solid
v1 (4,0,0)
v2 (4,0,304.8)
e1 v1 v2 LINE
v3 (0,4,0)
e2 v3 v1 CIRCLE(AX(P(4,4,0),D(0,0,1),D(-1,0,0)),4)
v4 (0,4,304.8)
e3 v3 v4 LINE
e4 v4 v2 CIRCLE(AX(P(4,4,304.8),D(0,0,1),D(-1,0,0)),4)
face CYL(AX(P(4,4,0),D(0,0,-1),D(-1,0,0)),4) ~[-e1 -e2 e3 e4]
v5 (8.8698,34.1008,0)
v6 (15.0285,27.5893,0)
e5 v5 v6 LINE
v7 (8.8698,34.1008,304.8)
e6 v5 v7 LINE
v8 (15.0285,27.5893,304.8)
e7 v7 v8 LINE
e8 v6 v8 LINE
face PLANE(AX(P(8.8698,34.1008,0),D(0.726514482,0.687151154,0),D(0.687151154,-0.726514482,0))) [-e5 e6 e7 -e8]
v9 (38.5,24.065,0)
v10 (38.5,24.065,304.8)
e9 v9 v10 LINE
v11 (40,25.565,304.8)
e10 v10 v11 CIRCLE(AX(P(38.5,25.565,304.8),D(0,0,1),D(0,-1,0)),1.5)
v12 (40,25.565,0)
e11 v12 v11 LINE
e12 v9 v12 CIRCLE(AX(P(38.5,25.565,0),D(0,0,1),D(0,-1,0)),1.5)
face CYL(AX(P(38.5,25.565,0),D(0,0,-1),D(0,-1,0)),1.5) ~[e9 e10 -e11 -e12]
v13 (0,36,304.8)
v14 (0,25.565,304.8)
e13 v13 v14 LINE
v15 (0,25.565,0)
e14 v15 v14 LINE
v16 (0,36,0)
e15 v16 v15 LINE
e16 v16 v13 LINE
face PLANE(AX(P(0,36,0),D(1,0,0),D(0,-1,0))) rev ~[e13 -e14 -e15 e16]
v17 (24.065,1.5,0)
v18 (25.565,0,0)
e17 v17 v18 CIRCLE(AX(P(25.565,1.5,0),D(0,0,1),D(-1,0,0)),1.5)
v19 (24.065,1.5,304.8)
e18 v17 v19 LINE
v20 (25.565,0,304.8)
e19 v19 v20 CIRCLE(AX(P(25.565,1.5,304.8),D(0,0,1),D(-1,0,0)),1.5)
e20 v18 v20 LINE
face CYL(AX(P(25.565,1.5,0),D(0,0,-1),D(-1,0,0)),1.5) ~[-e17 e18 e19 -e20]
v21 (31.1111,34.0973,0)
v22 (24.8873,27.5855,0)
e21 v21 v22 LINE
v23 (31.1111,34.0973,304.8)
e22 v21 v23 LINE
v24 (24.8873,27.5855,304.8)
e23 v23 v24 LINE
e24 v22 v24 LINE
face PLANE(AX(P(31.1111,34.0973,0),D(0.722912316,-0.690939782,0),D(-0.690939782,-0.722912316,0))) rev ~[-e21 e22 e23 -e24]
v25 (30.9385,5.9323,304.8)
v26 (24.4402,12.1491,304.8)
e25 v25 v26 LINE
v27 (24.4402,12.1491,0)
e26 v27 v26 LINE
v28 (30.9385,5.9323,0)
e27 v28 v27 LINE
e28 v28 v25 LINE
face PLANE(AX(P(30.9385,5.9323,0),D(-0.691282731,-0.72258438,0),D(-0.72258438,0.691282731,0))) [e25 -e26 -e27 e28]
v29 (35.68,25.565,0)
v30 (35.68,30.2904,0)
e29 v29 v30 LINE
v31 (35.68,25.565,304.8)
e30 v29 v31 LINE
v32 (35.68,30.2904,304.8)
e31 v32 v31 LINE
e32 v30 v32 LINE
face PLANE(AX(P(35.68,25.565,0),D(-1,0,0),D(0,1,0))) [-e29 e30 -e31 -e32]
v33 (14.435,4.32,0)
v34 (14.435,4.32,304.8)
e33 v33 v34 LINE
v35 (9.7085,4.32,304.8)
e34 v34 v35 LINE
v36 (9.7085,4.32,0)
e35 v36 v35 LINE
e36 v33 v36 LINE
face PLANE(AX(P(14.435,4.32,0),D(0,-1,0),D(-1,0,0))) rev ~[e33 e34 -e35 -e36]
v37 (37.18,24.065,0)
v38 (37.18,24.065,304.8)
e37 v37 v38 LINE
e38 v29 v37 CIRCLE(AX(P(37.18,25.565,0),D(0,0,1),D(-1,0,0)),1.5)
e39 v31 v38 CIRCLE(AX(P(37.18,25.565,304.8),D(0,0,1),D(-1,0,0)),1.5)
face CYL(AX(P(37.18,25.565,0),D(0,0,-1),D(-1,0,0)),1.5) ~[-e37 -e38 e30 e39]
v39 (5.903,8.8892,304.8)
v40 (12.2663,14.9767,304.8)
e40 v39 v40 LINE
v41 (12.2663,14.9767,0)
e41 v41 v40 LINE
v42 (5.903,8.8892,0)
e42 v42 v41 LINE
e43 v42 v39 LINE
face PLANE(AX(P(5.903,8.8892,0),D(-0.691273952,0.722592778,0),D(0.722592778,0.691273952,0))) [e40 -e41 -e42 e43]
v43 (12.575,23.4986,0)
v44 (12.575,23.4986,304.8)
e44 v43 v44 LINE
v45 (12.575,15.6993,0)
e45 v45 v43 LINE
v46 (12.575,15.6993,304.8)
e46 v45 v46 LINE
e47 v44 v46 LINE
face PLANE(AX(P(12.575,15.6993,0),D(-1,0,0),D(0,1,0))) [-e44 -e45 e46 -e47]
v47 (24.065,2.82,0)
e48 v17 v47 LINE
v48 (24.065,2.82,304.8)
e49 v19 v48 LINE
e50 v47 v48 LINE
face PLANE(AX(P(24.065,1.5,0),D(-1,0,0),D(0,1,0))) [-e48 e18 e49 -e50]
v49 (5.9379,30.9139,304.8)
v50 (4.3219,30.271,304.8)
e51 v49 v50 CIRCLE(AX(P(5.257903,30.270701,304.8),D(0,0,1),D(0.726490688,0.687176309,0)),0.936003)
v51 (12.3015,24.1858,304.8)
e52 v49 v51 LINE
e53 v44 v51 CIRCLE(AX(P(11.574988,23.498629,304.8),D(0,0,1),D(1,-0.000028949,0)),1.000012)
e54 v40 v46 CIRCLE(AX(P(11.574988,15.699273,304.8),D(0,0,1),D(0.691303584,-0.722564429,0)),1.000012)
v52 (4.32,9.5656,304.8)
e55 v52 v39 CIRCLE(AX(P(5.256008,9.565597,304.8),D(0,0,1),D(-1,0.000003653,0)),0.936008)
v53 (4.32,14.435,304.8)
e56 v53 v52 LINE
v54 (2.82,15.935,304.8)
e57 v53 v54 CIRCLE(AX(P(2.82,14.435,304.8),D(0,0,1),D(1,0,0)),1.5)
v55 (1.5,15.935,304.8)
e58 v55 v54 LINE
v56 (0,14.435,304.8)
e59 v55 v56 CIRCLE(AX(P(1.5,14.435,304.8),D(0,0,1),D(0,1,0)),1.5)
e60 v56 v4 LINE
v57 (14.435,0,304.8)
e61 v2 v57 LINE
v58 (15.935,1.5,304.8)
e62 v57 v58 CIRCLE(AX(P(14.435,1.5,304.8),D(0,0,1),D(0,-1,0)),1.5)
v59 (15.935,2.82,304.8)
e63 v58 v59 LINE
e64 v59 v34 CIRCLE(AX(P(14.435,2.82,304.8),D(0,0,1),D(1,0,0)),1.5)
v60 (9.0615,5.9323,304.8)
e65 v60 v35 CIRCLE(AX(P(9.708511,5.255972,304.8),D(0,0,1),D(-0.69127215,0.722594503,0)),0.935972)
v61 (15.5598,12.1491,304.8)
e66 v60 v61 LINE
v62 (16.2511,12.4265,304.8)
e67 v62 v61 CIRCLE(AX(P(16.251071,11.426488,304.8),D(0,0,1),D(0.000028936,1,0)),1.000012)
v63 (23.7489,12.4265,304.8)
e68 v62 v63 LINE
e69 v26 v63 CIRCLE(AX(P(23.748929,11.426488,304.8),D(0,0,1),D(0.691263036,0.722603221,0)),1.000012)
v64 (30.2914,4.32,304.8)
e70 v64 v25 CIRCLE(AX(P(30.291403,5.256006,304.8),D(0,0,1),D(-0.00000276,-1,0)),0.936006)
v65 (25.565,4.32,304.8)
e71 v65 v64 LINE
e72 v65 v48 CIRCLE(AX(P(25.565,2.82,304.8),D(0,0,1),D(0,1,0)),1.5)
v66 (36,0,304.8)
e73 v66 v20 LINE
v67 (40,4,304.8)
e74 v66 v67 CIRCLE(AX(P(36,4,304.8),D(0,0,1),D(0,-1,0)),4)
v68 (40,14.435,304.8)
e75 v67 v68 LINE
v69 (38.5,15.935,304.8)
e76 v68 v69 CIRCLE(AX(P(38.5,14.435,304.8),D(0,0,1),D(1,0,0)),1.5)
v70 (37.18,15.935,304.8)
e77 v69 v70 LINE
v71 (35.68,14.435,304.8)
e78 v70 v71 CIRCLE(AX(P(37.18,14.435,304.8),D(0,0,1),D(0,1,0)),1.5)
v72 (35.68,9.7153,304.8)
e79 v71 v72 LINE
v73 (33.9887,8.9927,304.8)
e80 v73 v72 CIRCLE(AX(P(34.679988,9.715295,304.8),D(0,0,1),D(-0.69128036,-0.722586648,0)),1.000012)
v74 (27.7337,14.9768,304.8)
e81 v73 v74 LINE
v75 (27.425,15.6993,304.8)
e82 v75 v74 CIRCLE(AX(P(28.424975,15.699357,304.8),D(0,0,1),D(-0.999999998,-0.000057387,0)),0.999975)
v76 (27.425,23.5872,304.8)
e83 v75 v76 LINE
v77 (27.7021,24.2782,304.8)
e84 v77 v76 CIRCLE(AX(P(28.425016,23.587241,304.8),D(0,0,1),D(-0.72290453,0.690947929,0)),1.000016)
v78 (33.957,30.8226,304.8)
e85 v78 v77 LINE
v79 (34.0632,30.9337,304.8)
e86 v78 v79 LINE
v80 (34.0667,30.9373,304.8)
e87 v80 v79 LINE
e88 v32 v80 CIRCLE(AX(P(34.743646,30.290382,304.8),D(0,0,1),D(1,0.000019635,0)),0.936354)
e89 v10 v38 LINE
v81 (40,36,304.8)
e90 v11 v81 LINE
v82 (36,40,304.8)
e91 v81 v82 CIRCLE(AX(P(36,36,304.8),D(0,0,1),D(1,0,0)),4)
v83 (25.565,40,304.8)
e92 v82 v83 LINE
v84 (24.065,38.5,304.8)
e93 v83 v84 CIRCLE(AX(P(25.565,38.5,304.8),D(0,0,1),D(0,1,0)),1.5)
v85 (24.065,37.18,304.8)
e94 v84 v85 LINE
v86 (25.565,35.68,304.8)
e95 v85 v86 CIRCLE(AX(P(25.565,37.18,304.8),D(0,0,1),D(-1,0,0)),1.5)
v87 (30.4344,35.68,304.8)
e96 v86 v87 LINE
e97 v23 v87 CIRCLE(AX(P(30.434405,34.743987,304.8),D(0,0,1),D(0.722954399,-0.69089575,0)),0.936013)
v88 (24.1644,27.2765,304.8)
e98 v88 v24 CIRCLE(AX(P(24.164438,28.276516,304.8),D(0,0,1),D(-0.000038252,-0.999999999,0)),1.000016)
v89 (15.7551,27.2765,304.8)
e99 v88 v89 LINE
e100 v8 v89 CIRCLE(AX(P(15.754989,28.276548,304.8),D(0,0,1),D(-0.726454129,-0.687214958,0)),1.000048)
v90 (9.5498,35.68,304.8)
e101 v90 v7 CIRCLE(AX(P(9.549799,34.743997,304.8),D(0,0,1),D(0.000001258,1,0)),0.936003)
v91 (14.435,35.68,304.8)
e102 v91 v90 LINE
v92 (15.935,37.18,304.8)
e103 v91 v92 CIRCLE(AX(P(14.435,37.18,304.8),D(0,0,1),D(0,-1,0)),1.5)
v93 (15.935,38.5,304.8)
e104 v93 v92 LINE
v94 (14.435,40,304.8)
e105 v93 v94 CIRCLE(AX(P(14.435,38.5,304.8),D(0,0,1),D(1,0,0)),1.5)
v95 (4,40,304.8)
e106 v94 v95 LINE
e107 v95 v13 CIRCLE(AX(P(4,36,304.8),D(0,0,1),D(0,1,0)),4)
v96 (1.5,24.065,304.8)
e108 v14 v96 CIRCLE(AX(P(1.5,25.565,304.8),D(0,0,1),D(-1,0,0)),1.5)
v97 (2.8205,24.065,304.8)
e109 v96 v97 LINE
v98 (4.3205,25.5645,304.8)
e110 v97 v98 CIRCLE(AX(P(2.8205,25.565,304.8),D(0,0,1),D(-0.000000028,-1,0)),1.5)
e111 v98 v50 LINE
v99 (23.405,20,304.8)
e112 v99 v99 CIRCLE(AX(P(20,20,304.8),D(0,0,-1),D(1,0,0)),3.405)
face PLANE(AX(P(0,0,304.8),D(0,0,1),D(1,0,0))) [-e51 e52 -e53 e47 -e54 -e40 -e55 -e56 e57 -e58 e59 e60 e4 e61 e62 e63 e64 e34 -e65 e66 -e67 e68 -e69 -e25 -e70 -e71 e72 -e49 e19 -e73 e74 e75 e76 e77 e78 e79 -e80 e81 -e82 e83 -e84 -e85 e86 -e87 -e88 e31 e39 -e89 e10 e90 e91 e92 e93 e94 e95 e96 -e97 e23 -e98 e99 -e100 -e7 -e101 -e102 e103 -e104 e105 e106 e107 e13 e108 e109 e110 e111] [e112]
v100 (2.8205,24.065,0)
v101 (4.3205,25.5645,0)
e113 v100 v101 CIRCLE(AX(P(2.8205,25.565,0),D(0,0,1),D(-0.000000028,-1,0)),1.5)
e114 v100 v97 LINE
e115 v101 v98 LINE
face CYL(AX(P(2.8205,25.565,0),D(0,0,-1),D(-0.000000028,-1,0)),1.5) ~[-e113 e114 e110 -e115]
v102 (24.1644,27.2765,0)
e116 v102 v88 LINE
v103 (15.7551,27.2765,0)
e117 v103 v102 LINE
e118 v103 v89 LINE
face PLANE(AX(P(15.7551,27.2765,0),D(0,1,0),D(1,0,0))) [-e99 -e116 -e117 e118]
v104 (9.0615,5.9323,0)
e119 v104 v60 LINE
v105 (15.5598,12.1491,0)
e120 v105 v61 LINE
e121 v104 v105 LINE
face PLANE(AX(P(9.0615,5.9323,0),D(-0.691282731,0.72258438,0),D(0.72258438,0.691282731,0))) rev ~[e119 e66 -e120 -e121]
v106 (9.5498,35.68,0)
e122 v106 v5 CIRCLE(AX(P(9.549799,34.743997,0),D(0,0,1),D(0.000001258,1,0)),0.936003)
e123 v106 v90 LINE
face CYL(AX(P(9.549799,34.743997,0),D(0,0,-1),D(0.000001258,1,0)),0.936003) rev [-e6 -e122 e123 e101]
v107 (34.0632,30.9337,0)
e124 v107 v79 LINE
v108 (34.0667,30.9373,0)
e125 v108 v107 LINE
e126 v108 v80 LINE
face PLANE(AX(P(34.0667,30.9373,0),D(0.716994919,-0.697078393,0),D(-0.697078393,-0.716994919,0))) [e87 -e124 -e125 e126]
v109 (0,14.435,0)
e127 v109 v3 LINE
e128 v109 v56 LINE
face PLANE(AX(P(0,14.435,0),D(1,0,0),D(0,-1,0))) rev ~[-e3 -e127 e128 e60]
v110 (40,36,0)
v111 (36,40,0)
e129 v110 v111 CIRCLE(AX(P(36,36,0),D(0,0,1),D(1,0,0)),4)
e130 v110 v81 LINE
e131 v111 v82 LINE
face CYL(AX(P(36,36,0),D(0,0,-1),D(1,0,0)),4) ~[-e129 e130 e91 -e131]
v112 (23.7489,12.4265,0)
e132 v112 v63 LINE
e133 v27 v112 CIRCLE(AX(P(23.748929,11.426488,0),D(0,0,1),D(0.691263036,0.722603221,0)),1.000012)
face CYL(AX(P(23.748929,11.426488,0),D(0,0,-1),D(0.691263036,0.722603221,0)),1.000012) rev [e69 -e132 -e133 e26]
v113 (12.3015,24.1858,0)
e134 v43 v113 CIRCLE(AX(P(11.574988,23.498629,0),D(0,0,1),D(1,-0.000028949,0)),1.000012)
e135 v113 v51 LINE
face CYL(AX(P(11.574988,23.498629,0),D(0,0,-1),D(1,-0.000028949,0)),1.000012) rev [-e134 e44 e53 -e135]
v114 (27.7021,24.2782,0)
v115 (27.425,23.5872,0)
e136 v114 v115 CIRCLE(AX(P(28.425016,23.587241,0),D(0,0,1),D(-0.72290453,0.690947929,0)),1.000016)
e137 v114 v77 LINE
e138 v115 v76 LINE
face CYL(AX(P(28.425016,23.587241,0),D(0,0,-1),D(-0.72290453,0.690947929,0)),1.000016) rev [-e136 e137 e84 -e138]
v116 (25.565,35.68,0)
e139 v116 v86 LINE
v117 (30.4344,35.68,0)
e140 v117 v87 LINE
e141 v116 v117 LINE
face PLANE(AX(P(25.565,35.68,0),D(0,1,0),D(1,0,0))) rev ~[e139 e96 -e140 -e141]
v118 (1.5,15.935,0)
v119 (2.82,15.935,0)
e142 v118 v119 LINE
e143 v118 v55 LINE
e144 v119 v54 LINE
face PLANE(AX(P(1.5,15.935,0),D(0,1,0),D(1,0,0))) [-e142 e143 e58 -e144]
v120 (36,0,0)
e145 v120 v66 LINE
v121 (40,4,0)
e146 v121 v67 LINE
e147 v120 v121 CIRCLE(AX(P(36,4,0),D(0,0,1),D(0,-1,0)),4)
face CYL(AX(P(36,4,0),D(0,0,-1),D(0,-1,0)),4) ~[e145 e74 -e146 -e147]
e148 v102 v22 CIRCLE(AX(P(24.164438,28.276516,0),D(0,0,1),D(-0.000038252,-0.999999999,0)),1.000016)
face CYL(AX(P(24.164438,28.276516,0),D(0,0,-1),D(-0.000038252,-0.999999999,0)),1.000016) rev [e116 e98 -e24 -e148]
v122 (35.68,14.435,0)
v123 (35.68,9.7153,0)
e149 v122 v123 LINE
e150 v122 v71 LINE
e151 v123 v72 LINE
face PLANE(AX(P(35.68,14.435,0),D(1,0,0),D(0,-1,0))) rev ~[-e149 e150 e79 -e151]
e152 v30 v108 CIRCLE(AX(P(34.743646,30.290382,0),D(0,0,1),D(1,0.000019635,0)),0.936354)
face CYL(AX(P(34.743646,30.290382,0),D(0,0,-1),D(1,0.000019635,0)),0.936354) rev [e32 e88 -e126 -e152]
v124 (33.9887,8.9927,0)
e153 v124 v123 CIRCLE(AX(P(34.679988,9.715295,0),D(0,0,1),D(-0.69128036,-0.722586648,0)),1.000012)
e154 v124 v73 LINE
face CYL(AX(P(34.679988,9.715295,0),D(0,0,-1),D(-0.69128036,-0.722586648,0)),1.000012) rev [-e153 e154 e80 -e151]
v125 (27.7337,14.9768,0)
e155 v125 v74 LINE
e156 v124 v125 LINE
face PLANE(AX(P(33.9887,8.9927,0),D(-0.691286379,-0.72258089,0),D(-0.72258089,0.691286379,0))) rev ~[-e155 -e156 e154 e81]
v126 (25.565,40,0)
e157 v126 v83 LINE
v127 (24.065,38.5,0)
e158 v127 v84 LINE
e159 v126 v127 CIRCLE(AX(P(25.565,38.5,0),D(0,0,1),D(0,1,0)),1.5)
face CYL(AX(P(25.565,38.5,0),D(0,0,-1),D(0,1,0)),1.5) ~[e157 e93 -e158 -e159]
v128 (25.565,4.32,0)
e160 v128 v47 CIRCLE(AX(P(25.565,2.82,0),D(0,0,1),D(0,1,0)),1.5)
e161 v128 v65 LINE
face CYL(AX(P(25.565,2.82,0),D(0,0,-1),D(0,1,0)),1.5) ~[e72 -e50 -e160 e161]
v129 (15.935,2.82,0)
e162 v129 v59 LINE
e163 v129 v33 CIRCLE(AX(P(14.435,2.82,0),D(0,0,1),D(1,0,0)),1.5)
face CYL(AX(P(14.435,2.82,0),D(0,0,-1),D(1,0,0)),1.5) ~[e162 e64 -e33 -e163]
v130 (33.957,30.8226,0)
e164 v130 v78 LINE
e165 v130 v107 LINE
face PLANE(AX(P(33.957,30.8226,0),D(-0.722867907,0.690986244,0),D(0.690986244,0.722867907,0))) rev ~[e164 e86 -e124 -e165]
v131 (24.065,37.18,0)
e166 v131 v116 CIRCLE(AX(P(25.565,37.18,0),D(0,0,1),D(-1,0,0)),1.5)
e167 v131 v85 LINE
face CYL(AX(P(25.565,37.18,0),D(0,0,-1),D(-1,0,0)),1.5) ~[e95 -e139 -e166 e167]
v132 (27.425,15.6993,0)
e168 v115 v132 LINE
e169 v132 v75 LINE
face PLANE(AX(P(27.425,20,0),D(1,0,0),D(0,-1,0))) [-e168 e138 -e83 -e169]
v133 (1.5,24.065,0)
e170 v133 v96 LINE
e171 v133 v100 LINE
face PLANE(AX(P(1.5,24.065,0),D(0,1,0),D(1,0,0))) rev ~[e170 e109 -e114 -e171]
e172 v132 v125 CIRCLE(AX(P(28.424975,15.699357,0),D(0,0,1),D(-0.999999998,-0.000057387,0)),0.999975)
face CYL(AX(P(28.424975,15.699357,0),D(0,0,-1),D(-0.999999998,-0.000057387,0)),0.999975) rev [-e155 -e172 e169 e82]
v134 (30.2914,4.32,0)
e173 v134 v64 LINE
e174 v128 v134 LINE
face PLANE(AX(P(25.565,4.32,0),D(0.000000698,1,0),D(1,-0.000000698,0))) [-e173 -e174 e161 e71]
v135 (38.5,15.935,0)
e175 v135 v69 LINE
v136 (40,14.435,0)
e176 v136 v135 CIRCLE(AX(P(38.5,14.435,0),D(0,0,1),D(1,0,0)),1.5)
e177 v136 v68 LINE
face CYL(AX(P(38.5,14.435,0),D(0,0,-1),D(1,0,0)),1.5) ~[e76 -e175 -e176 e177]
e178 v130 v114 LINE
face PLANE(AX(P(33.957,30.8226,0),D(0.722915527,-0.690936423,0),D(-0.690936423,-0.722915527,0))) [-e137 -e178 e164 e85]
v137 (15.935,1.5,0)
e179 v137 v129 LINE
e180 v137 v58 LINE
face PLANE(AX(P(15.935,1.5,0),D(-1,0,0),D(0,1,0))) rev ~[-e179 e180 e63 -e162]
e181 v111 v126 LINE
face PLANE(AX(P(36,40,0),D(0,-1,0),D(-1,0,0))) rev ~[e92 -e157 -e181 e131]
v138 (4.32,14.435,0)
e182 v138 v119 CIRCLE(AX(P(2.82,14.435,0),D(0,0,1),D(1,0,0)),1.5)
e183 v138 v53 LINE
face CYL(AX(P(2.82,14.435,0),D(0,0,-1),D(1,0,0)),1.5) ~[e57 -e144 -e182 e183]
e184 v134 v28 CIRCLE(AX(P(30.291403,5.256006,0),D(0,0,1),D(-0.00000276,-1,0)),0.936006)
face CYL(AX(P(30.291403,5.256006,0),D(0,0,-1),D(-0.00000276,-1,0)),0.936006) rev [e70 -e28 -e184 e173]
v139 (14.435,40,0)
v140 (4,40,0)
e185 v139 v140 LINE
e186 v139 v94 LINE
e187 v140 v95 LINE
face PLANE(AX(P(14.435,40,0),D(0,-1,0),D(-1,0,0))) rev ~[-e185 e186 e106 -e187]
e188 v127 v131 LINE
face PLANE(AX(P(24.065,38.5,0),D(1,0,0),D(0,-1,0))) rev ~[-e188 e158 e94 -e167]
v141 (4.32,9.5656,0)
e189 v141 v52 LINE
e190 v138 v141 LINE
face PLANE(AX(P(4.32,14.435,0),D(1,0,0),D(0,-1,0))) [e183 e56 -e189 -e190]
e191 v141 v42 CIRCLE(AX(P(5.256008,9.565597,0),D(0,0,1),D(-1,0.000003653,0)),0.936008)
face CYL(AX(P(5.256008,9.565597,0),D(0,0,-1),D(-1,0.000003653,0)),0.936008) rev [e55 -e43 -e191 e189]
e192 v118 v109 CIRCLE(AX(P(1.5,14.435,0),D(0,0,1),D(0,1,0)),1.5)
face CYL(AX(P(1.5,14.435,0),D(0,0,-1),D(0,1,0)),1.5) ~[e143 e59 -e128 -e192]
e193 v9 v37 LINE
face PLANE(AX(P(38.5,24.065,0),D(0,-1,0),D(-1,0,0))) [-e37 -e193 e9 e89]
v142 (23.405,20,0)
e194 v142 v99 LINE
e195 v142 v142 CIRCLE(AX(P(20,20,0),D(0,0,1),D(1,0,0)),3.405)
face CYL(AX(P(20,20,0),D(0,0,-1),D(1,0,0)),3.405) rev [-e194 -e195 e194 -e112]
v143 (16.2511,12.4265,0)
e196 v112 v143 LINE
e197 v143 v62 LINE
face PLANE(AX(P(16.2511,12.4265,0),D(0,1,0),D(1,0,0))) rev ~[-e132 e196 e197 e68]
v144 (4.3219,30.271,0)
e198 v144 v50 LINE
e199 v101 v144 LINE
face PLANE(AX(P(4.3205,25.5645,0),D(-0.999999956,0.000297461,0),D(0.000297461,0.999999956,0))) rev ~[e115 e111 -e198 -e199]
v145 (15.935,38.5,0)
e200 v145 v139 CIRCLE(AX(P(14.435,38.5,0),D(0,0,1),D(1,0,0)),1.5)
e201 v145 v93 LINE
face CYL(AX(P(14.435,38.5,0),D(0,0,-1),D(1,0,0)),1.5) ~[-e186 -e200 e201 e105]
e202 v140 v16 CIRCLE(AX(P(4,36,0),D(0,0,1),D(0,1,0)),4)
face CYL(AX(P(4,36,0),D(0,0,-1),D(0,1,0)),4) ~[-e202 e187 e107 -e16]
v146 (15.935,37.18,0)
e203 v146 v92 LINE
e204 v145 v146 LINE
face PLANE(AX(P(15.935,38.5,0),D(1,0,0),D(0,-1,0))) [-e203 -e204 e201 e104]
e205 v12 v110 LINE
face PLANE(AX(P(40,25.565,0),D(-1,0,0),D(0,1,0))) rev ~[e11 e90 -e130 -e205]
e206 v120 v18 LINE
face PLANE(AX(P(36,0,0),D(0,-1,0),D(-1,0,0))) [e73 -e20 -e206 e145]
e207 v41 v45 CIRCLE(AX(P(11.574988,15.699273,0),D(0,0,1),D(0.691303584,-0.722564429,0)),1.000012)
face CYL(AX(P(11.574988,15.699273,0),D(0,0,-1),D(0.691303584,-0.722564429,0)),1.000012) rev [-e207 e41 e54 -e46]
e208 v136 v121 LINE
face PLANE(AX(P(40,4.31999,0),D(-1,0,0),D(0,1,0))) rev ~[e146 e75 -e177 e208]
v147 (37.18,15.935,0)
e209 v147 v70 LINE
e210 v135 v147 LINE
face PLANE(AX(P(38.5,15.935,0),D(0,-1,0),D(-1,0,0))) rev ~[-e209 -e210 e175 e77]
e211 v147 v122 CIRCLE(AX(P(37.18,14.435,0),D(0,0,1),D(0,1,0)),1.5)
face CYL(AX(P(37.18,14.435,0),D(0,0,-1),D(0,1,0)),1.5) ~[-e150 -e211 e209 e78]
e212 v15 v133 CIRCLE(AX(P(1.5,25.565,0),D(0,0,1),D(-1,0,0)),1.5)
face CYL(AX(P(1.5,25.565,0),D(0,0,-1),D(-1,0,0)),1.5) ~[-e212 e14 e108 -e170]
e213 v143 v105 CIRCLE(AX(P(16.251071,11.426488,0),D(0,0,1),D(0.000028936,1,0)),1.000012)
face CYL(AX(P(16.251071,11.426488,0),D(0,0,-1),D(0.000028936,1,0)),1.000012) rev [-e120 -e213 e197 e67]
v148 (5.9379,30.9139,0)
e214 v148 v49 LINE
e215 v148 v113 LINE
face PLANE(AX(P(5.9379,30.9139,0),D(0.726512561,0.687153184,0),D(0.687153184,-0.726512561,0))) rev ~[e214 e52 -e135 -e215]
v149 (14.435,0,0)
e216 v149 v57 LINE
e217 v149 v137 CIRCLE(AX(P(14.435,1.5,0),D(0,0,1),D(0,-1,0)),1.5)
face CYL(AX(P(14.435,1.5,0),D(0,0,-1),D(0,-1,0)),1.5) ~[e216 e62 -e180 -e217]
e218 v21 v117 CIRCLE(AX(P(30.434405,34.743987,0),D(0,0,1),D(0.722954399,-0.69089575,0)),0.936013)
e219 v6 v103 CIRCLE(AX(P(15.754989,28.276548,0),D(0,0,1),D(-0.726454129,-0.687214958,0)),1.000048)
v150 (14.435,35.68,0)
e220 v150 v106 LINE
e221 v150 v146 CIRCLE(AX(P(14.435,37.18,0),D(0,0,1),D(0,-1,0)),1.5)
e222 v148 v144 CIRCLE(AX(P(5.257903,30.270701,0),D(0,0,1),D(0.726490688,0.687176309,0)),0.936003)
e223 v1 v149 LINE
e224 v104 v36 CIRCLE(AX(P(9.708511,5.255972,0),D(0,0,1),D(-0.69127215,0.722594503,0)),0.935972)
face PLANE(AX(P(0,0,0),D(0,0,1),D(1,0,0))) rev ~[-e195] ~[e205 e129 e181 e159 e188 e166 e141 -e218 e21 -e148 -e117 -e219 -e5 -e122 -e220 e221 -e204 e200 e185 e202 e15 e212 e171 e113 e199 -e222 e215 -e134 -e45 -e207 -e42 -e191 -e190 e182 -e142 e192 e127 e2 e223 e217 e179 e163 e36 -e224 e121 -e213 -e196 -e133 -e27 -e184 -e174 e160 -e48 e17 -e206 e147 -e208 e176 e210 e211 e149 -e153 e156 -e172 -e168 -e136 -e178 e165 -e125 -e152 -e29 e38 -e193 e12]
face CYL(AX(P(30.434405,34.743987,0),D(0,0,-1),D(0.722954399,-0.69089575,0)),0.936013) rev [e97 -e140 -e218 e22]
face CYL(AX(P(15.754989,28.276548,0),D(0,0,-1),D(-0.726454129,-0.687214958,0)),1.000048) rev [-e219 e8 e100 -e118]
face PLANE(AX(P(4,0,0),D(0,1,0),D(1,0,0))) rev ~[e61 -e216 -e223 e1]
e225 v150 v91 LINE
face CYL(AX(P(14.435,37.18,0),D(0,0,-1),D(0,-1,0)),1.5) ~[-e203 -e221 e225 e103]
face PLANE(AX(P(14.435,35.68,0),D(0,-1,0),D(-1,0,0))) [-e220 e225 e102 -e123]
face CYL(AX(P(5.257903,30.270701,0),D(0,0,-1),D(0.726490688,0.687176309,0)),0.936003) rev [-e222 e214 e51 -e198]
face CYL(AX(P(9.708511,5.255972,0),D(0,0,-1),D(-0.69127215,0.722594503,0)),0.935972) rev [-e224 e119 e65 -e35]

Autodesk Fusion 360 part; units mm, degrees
sketch "Sketch1" plane through (0, 0, 0) normal (0, 0, 1) x (1, 0, 0)
  line L0 (4, 0) -> (14.435, 0)
  line L1 (40, 0) -> (40, 36)
  line L2 (36, 40) -> (0, 40)
  line L3 (0, 40) -> (0, 4)
  line L4 (0, 0) -> (0, 20)
  line L5 (0, 40) -> (20, 40)
  circle A0 centre (20, 20) radius 3.405
  line L6 (40, 40) -> (24.065, 40)
  line L7 (40, 40) -> (25.565, 40)
  line L8 (40, 40) -> (40, 25.565)
  line L9 (38.5, 24.065) -> (37.18, 24.065)
  line L10 (24.065, 38.5) -> (24.065, 37.18)
  line L11 (25.565, 35.68) -> (30.4344, 35.68)
  line L12 (35.68, 25.565) -> (35.68, 30.2904)
  line L13 (20, 20) -> (20, 40)
  line L14 (20, 20) -> (0, 20)
  line L15 (20, 20) -> (20, 0)
  line L16 (20, 20) -> (40, 20)
  line L17 (14.435, 35.68) -> (9.5498, 35.68)
  line L18 (15.935, 38.5) -> (15.935, 37.18)
  line L19 (4, 40) -> (14.435, 40)
  line L20 (0, 36) -> (0, 25.565)
  line L21 (1.5, 24.065) -> (2.8205, 24.065)
  line L22 (4.3205, 25.5645) -> (4.3219, 30.271)
  line L23 (25.565, 4.32) -> (1890698.4728, 3)
  line L24 (24.065, 1.5) -> (24.065, 2.82)
  line L25 (36, 0) -> (25.565, 0)
  line L26 (40, 4) -> (40, 14.435)
  line L27 (38.5, 15.935) -> (37.18, 15.935)
  line L28 (35.68, 14.435) -> (35.68, 9.7153)
  line L29 (14.435, 4.32) -> (9.7085, 4.32)
  line L30 (15.935, 1.5) -> (15.935, 2.82)
  line L31 (0, 0) -> (15.935, 0)
  line L32 (1.5, 15.935) -> (2.82, 15.935)
  line L33 (4.32, 14.435) -> (4.32, 9.5656)
  line L34 (0, 14.435) -> (0, 0)
  line L35 (0, 0) -> (15.935, 0)
  line L36 (5.9379, 30.9139) -> (12.3015, 24.1858)
  line L37 (8.8698, 34.1008) -> (15.0285, 27.5893)
  line L38 (30.9385, 5.9323) -> (24.4402, 12.1491)
  line L39 (33.9887, 8.9927) -> (27.7337, 14.9768)
  line L40 (5.903, 8.8892) -> (12.2663, 14.9767)
  line L41 (9.0615, 5.9323) -> (15.5598, 12.1491)
  line L42 (31.1111, 34.0973) -> (24.8873, 27.5855)
  line L43 (33.957, 30.8226) -> (27.7021, 24.2782)
  line L44 (27.425, 23.5872) -> (27.425, 15.6993)
  line L45 (16.2511, 12.4265) -> (23.7489, 12.4265)
  line L46 (12.575, 15.6993) -> (12.575, 23.4986)
  line L47 (15.7551, 27.2765) -> (24.1644, 27.2765)
  line L48 (35.68, 30.1316) -> (35.68, 30.2853)
  line L49 (34.0667, 30.9373) -> (34.0632, 30.9337)
  arc A1 (33.9887, 8.9927) -> (35.68, 9.7153) centre (34.68, 9.7153) ccw
  line L50 (35.68, 7.3747) -> (35.68, 9.7153)
  arc A2 (27.7021, 24.2782) -> (27.425, 23.5872) centre (28.425, 23.5872) ccw
  arc A3 (35.68, 30.2904) -> (34.0667, 30.9373) centre (34.7436, 30.2904) ccw
  arc A4 (5.9379, 30.9139) -> (4.3219, 30.271) centre (5.2579, 30.2707) ccw
  arc A5 (12.575, 23.4986) -> (12.3015, 24.1858) centre (11.575, 23.4986) ccw
  arc A6 (12.2663, 14.9767) -> (12.575, 15.6993) centre (11.575, 15.6993) ccw
  arc A7 (4.32, 9.5656) -> (5.903, 8.8892) centre (5.256, 9.5656) ccw
  arc A8 (9.0615, 5.9323) -> (9.7085, 4.32) centre (9.7085, 5.256) ccw
  arc A9 (30.2914, 4.32) -> (30.9385, 5.9323) centre (30.2914, 5.256) ccw
  arc A10 (24.4402, 12.1491) -> (23.7489, 12.4265) centre (23.7489, 11.4265) ccw
  arc A11 (16.2511, 12.4265) -> (15.5598, 12.1491) centre (16.2511, 11.4265) ccw
  arc A12 (27.425, 15.6993) -> (27.7337, 14.9768) centre (28.425, 15.6993) ccw
  arc A13 (24.1644, 27.2765) -> (24.8873, 27.5855) centre (24.1644, 28.2765) ccw
  arc A14 (15.0285, 27.5893) -> (15.7551, 27.2765) centre (15.7551, 28.2765) ccw
  arc A15 (37.18, 15.935) -> (35.68, 14.435) centre (37.18, 14.435) ccw
  arc A16 (40, 14.435) -> (38.5, 15.935) centre (38.5, 14.435) ccw
  arc A17 (35.68, 25.565) -> (37.18, 24.065) centre (37.18, 25.565) ccw
  arc A18 (38.5, 24.065) -> (40, 25.565) centre (38.5, 25.565) ccw
  arc A19 (25.565, 40) -> (24.065, 38.5) centre (25.565, 38.5) ccw
  arc A20 (24.065, 37.18) -> (25.565, 35.68) centre (25.565, 37.18) ccw
  arc A21 (14.435, 35.68) -> (15.935, 37.18) centre (14.435, 37.18) ccw
  arc A22 (15.935, 38.5) -> (14.435, 40) centre (14.435, 38.5) ccw
  arc A23 (2.8205, 24.065) -> (4.3205, 25.5645) centre (2.8205, 25.565) ccw
  arc A24 (0, 25.565) -> (1.5, 24.065) centre (1.5, 25.565) ccw
  arc A25 (4.32, 14.435) -> (2.82, 15.935) centre (2.82, 14.435) ccw
  arc A26 (1.5, 15.935) -> (0, 14.435) centre (1.5, 14.435) ccw
  arc A27 (15.935, 2.82) -> (14.435, 4.32) centre (14.435, 2.82) ccw
  arc A28 (1890698.4728, 0) -> (1890698.4728, 3) centre (1890698.4728, 1.5) ccw
  arc A29 (24.065, 1.5) -> (25.565, 0) centre (25.565, 1.5) ccw
  arc A30 (14.435, 0) -> (15.935, 1.5) centre (14.435, 1.5) ccw
  arc A31 (25.565, 4.32) -> (24.065, 2.82) centre (25.565, 2.82) ccw
  arc A32 (4, 40) -> (0, 36) centre (4, 36) ccw
  arc A33 (0, 4) -> (4, 0) centre (4, 4) ccw
  arc A34 (36, 0) -> (40, 4) centre (36, 4) ccw
  arc A35 (40, 36) -> (36, 40) centre (36, 36) ccw
  arc A36 (9.5498, 35.68) -> (8.8698, 34.1008) centre (9.5498, 34.744) ccw
  arc A37 (31.1111, 34.0973) -> (30.4344, 35.68) centre (30.4344, 34.744) ccw
  line L51 (40, 25.1972) -> (40, 36)
  line L52 (33.957, 30.8226) -> (34.0632, 30.9337)
  point P0 (20, 20)
  point P1 (40, 24.065)
  point P2 (35.68, 24.065)
  point P3 (24.065, 35.68)
  point P4 (35.68, 32.6253)
  point P5 (35.68, 7.3747)
  dimension "d1" = 40
  dimension "d2" = 40
  dimension "d8" = 15.935
  dimension "d9" = 15.935
  dimension "d10" = 4.32
  dimension "d11" = 4.32
  dimension "d16" = 90
  dimension "d17" = 90
  dimension "d22" = 4.32
  dimension "d23" = 4.32
  dimension "d24" = 4.32
  dimension "d25" = 4.32
  dimension "d26" = 8.13
  dimension "d27" = 4.32
  dimension "d28" = 14.85
  dimension "d29" = 14.85
  dimension "d30" = 7.425
  dimension "d31" = 25.2506
  dimension "d32" = 2.34
  dimension "d33" = 2.34
  dimension "d35" = 1
  dimension "d36" = 20.57
  dimension "d37" = 1
  dimension "d38" = 7.9779
  dimension "d39" = 0.9364
  dimension "d40" = 0.936
  dimension "d41" = 1
  dimension "d42" = 1
  dimension "d43" = 0.936
  dimension "d44" = 0.936
  dimension "d45" = 0.936
  dimension "d46" = 1
  dimension "d47" = 1
  dimension "d48" = 1
  dimension "d49" = 1
  dimension "d50" = 1
  dimension "d51" = 1.5
  dimension "d52" = 1.5
  dimension "d53" = 1.5
  dimension "d54" = 1.5
  dimension "d55" = 1.5
  dimension "d56" = 1.5
  dimension "d57" = 1.5
  dimension "d58" = 1.5
  dimension "d59" = 4
  dimension "d60" = 4
  dimension "d61" = 0.936
  dimension "d62" = 0.936
extrude "Extrude1" add sketch "Sketch1" along normal blind 304.8 contours L0 L3 L4 A0 L14 L15 L29 L30 L31 L32 L33 L34 L35 L40 L41 L45 L46 A6 A7 A8 A11 A25 A26 A27 A30 A33 | L2 L3 L5 A0 L13 L14 L17 L18 L19 L20 L21 L22 L36 L37 L46 L47 A4 A5 A14 A21 A22 A23 A24 A32 A36 | L1 L2 A0 L6 L7 L8 L9 L10 L11 L12 L13 L16 L42 L43 L44 L47 L48 L49 A2 A3 A13 A17 A18 A19 A20 A35 A37 L51 L52 | L1 A0 L15 L16 L23 L26 L27 L28 L38 L39 L44 L45 A1 A9 A10 A12 A15 A16 | L1 L23 L24 L25 L26 A29 A31 A34
